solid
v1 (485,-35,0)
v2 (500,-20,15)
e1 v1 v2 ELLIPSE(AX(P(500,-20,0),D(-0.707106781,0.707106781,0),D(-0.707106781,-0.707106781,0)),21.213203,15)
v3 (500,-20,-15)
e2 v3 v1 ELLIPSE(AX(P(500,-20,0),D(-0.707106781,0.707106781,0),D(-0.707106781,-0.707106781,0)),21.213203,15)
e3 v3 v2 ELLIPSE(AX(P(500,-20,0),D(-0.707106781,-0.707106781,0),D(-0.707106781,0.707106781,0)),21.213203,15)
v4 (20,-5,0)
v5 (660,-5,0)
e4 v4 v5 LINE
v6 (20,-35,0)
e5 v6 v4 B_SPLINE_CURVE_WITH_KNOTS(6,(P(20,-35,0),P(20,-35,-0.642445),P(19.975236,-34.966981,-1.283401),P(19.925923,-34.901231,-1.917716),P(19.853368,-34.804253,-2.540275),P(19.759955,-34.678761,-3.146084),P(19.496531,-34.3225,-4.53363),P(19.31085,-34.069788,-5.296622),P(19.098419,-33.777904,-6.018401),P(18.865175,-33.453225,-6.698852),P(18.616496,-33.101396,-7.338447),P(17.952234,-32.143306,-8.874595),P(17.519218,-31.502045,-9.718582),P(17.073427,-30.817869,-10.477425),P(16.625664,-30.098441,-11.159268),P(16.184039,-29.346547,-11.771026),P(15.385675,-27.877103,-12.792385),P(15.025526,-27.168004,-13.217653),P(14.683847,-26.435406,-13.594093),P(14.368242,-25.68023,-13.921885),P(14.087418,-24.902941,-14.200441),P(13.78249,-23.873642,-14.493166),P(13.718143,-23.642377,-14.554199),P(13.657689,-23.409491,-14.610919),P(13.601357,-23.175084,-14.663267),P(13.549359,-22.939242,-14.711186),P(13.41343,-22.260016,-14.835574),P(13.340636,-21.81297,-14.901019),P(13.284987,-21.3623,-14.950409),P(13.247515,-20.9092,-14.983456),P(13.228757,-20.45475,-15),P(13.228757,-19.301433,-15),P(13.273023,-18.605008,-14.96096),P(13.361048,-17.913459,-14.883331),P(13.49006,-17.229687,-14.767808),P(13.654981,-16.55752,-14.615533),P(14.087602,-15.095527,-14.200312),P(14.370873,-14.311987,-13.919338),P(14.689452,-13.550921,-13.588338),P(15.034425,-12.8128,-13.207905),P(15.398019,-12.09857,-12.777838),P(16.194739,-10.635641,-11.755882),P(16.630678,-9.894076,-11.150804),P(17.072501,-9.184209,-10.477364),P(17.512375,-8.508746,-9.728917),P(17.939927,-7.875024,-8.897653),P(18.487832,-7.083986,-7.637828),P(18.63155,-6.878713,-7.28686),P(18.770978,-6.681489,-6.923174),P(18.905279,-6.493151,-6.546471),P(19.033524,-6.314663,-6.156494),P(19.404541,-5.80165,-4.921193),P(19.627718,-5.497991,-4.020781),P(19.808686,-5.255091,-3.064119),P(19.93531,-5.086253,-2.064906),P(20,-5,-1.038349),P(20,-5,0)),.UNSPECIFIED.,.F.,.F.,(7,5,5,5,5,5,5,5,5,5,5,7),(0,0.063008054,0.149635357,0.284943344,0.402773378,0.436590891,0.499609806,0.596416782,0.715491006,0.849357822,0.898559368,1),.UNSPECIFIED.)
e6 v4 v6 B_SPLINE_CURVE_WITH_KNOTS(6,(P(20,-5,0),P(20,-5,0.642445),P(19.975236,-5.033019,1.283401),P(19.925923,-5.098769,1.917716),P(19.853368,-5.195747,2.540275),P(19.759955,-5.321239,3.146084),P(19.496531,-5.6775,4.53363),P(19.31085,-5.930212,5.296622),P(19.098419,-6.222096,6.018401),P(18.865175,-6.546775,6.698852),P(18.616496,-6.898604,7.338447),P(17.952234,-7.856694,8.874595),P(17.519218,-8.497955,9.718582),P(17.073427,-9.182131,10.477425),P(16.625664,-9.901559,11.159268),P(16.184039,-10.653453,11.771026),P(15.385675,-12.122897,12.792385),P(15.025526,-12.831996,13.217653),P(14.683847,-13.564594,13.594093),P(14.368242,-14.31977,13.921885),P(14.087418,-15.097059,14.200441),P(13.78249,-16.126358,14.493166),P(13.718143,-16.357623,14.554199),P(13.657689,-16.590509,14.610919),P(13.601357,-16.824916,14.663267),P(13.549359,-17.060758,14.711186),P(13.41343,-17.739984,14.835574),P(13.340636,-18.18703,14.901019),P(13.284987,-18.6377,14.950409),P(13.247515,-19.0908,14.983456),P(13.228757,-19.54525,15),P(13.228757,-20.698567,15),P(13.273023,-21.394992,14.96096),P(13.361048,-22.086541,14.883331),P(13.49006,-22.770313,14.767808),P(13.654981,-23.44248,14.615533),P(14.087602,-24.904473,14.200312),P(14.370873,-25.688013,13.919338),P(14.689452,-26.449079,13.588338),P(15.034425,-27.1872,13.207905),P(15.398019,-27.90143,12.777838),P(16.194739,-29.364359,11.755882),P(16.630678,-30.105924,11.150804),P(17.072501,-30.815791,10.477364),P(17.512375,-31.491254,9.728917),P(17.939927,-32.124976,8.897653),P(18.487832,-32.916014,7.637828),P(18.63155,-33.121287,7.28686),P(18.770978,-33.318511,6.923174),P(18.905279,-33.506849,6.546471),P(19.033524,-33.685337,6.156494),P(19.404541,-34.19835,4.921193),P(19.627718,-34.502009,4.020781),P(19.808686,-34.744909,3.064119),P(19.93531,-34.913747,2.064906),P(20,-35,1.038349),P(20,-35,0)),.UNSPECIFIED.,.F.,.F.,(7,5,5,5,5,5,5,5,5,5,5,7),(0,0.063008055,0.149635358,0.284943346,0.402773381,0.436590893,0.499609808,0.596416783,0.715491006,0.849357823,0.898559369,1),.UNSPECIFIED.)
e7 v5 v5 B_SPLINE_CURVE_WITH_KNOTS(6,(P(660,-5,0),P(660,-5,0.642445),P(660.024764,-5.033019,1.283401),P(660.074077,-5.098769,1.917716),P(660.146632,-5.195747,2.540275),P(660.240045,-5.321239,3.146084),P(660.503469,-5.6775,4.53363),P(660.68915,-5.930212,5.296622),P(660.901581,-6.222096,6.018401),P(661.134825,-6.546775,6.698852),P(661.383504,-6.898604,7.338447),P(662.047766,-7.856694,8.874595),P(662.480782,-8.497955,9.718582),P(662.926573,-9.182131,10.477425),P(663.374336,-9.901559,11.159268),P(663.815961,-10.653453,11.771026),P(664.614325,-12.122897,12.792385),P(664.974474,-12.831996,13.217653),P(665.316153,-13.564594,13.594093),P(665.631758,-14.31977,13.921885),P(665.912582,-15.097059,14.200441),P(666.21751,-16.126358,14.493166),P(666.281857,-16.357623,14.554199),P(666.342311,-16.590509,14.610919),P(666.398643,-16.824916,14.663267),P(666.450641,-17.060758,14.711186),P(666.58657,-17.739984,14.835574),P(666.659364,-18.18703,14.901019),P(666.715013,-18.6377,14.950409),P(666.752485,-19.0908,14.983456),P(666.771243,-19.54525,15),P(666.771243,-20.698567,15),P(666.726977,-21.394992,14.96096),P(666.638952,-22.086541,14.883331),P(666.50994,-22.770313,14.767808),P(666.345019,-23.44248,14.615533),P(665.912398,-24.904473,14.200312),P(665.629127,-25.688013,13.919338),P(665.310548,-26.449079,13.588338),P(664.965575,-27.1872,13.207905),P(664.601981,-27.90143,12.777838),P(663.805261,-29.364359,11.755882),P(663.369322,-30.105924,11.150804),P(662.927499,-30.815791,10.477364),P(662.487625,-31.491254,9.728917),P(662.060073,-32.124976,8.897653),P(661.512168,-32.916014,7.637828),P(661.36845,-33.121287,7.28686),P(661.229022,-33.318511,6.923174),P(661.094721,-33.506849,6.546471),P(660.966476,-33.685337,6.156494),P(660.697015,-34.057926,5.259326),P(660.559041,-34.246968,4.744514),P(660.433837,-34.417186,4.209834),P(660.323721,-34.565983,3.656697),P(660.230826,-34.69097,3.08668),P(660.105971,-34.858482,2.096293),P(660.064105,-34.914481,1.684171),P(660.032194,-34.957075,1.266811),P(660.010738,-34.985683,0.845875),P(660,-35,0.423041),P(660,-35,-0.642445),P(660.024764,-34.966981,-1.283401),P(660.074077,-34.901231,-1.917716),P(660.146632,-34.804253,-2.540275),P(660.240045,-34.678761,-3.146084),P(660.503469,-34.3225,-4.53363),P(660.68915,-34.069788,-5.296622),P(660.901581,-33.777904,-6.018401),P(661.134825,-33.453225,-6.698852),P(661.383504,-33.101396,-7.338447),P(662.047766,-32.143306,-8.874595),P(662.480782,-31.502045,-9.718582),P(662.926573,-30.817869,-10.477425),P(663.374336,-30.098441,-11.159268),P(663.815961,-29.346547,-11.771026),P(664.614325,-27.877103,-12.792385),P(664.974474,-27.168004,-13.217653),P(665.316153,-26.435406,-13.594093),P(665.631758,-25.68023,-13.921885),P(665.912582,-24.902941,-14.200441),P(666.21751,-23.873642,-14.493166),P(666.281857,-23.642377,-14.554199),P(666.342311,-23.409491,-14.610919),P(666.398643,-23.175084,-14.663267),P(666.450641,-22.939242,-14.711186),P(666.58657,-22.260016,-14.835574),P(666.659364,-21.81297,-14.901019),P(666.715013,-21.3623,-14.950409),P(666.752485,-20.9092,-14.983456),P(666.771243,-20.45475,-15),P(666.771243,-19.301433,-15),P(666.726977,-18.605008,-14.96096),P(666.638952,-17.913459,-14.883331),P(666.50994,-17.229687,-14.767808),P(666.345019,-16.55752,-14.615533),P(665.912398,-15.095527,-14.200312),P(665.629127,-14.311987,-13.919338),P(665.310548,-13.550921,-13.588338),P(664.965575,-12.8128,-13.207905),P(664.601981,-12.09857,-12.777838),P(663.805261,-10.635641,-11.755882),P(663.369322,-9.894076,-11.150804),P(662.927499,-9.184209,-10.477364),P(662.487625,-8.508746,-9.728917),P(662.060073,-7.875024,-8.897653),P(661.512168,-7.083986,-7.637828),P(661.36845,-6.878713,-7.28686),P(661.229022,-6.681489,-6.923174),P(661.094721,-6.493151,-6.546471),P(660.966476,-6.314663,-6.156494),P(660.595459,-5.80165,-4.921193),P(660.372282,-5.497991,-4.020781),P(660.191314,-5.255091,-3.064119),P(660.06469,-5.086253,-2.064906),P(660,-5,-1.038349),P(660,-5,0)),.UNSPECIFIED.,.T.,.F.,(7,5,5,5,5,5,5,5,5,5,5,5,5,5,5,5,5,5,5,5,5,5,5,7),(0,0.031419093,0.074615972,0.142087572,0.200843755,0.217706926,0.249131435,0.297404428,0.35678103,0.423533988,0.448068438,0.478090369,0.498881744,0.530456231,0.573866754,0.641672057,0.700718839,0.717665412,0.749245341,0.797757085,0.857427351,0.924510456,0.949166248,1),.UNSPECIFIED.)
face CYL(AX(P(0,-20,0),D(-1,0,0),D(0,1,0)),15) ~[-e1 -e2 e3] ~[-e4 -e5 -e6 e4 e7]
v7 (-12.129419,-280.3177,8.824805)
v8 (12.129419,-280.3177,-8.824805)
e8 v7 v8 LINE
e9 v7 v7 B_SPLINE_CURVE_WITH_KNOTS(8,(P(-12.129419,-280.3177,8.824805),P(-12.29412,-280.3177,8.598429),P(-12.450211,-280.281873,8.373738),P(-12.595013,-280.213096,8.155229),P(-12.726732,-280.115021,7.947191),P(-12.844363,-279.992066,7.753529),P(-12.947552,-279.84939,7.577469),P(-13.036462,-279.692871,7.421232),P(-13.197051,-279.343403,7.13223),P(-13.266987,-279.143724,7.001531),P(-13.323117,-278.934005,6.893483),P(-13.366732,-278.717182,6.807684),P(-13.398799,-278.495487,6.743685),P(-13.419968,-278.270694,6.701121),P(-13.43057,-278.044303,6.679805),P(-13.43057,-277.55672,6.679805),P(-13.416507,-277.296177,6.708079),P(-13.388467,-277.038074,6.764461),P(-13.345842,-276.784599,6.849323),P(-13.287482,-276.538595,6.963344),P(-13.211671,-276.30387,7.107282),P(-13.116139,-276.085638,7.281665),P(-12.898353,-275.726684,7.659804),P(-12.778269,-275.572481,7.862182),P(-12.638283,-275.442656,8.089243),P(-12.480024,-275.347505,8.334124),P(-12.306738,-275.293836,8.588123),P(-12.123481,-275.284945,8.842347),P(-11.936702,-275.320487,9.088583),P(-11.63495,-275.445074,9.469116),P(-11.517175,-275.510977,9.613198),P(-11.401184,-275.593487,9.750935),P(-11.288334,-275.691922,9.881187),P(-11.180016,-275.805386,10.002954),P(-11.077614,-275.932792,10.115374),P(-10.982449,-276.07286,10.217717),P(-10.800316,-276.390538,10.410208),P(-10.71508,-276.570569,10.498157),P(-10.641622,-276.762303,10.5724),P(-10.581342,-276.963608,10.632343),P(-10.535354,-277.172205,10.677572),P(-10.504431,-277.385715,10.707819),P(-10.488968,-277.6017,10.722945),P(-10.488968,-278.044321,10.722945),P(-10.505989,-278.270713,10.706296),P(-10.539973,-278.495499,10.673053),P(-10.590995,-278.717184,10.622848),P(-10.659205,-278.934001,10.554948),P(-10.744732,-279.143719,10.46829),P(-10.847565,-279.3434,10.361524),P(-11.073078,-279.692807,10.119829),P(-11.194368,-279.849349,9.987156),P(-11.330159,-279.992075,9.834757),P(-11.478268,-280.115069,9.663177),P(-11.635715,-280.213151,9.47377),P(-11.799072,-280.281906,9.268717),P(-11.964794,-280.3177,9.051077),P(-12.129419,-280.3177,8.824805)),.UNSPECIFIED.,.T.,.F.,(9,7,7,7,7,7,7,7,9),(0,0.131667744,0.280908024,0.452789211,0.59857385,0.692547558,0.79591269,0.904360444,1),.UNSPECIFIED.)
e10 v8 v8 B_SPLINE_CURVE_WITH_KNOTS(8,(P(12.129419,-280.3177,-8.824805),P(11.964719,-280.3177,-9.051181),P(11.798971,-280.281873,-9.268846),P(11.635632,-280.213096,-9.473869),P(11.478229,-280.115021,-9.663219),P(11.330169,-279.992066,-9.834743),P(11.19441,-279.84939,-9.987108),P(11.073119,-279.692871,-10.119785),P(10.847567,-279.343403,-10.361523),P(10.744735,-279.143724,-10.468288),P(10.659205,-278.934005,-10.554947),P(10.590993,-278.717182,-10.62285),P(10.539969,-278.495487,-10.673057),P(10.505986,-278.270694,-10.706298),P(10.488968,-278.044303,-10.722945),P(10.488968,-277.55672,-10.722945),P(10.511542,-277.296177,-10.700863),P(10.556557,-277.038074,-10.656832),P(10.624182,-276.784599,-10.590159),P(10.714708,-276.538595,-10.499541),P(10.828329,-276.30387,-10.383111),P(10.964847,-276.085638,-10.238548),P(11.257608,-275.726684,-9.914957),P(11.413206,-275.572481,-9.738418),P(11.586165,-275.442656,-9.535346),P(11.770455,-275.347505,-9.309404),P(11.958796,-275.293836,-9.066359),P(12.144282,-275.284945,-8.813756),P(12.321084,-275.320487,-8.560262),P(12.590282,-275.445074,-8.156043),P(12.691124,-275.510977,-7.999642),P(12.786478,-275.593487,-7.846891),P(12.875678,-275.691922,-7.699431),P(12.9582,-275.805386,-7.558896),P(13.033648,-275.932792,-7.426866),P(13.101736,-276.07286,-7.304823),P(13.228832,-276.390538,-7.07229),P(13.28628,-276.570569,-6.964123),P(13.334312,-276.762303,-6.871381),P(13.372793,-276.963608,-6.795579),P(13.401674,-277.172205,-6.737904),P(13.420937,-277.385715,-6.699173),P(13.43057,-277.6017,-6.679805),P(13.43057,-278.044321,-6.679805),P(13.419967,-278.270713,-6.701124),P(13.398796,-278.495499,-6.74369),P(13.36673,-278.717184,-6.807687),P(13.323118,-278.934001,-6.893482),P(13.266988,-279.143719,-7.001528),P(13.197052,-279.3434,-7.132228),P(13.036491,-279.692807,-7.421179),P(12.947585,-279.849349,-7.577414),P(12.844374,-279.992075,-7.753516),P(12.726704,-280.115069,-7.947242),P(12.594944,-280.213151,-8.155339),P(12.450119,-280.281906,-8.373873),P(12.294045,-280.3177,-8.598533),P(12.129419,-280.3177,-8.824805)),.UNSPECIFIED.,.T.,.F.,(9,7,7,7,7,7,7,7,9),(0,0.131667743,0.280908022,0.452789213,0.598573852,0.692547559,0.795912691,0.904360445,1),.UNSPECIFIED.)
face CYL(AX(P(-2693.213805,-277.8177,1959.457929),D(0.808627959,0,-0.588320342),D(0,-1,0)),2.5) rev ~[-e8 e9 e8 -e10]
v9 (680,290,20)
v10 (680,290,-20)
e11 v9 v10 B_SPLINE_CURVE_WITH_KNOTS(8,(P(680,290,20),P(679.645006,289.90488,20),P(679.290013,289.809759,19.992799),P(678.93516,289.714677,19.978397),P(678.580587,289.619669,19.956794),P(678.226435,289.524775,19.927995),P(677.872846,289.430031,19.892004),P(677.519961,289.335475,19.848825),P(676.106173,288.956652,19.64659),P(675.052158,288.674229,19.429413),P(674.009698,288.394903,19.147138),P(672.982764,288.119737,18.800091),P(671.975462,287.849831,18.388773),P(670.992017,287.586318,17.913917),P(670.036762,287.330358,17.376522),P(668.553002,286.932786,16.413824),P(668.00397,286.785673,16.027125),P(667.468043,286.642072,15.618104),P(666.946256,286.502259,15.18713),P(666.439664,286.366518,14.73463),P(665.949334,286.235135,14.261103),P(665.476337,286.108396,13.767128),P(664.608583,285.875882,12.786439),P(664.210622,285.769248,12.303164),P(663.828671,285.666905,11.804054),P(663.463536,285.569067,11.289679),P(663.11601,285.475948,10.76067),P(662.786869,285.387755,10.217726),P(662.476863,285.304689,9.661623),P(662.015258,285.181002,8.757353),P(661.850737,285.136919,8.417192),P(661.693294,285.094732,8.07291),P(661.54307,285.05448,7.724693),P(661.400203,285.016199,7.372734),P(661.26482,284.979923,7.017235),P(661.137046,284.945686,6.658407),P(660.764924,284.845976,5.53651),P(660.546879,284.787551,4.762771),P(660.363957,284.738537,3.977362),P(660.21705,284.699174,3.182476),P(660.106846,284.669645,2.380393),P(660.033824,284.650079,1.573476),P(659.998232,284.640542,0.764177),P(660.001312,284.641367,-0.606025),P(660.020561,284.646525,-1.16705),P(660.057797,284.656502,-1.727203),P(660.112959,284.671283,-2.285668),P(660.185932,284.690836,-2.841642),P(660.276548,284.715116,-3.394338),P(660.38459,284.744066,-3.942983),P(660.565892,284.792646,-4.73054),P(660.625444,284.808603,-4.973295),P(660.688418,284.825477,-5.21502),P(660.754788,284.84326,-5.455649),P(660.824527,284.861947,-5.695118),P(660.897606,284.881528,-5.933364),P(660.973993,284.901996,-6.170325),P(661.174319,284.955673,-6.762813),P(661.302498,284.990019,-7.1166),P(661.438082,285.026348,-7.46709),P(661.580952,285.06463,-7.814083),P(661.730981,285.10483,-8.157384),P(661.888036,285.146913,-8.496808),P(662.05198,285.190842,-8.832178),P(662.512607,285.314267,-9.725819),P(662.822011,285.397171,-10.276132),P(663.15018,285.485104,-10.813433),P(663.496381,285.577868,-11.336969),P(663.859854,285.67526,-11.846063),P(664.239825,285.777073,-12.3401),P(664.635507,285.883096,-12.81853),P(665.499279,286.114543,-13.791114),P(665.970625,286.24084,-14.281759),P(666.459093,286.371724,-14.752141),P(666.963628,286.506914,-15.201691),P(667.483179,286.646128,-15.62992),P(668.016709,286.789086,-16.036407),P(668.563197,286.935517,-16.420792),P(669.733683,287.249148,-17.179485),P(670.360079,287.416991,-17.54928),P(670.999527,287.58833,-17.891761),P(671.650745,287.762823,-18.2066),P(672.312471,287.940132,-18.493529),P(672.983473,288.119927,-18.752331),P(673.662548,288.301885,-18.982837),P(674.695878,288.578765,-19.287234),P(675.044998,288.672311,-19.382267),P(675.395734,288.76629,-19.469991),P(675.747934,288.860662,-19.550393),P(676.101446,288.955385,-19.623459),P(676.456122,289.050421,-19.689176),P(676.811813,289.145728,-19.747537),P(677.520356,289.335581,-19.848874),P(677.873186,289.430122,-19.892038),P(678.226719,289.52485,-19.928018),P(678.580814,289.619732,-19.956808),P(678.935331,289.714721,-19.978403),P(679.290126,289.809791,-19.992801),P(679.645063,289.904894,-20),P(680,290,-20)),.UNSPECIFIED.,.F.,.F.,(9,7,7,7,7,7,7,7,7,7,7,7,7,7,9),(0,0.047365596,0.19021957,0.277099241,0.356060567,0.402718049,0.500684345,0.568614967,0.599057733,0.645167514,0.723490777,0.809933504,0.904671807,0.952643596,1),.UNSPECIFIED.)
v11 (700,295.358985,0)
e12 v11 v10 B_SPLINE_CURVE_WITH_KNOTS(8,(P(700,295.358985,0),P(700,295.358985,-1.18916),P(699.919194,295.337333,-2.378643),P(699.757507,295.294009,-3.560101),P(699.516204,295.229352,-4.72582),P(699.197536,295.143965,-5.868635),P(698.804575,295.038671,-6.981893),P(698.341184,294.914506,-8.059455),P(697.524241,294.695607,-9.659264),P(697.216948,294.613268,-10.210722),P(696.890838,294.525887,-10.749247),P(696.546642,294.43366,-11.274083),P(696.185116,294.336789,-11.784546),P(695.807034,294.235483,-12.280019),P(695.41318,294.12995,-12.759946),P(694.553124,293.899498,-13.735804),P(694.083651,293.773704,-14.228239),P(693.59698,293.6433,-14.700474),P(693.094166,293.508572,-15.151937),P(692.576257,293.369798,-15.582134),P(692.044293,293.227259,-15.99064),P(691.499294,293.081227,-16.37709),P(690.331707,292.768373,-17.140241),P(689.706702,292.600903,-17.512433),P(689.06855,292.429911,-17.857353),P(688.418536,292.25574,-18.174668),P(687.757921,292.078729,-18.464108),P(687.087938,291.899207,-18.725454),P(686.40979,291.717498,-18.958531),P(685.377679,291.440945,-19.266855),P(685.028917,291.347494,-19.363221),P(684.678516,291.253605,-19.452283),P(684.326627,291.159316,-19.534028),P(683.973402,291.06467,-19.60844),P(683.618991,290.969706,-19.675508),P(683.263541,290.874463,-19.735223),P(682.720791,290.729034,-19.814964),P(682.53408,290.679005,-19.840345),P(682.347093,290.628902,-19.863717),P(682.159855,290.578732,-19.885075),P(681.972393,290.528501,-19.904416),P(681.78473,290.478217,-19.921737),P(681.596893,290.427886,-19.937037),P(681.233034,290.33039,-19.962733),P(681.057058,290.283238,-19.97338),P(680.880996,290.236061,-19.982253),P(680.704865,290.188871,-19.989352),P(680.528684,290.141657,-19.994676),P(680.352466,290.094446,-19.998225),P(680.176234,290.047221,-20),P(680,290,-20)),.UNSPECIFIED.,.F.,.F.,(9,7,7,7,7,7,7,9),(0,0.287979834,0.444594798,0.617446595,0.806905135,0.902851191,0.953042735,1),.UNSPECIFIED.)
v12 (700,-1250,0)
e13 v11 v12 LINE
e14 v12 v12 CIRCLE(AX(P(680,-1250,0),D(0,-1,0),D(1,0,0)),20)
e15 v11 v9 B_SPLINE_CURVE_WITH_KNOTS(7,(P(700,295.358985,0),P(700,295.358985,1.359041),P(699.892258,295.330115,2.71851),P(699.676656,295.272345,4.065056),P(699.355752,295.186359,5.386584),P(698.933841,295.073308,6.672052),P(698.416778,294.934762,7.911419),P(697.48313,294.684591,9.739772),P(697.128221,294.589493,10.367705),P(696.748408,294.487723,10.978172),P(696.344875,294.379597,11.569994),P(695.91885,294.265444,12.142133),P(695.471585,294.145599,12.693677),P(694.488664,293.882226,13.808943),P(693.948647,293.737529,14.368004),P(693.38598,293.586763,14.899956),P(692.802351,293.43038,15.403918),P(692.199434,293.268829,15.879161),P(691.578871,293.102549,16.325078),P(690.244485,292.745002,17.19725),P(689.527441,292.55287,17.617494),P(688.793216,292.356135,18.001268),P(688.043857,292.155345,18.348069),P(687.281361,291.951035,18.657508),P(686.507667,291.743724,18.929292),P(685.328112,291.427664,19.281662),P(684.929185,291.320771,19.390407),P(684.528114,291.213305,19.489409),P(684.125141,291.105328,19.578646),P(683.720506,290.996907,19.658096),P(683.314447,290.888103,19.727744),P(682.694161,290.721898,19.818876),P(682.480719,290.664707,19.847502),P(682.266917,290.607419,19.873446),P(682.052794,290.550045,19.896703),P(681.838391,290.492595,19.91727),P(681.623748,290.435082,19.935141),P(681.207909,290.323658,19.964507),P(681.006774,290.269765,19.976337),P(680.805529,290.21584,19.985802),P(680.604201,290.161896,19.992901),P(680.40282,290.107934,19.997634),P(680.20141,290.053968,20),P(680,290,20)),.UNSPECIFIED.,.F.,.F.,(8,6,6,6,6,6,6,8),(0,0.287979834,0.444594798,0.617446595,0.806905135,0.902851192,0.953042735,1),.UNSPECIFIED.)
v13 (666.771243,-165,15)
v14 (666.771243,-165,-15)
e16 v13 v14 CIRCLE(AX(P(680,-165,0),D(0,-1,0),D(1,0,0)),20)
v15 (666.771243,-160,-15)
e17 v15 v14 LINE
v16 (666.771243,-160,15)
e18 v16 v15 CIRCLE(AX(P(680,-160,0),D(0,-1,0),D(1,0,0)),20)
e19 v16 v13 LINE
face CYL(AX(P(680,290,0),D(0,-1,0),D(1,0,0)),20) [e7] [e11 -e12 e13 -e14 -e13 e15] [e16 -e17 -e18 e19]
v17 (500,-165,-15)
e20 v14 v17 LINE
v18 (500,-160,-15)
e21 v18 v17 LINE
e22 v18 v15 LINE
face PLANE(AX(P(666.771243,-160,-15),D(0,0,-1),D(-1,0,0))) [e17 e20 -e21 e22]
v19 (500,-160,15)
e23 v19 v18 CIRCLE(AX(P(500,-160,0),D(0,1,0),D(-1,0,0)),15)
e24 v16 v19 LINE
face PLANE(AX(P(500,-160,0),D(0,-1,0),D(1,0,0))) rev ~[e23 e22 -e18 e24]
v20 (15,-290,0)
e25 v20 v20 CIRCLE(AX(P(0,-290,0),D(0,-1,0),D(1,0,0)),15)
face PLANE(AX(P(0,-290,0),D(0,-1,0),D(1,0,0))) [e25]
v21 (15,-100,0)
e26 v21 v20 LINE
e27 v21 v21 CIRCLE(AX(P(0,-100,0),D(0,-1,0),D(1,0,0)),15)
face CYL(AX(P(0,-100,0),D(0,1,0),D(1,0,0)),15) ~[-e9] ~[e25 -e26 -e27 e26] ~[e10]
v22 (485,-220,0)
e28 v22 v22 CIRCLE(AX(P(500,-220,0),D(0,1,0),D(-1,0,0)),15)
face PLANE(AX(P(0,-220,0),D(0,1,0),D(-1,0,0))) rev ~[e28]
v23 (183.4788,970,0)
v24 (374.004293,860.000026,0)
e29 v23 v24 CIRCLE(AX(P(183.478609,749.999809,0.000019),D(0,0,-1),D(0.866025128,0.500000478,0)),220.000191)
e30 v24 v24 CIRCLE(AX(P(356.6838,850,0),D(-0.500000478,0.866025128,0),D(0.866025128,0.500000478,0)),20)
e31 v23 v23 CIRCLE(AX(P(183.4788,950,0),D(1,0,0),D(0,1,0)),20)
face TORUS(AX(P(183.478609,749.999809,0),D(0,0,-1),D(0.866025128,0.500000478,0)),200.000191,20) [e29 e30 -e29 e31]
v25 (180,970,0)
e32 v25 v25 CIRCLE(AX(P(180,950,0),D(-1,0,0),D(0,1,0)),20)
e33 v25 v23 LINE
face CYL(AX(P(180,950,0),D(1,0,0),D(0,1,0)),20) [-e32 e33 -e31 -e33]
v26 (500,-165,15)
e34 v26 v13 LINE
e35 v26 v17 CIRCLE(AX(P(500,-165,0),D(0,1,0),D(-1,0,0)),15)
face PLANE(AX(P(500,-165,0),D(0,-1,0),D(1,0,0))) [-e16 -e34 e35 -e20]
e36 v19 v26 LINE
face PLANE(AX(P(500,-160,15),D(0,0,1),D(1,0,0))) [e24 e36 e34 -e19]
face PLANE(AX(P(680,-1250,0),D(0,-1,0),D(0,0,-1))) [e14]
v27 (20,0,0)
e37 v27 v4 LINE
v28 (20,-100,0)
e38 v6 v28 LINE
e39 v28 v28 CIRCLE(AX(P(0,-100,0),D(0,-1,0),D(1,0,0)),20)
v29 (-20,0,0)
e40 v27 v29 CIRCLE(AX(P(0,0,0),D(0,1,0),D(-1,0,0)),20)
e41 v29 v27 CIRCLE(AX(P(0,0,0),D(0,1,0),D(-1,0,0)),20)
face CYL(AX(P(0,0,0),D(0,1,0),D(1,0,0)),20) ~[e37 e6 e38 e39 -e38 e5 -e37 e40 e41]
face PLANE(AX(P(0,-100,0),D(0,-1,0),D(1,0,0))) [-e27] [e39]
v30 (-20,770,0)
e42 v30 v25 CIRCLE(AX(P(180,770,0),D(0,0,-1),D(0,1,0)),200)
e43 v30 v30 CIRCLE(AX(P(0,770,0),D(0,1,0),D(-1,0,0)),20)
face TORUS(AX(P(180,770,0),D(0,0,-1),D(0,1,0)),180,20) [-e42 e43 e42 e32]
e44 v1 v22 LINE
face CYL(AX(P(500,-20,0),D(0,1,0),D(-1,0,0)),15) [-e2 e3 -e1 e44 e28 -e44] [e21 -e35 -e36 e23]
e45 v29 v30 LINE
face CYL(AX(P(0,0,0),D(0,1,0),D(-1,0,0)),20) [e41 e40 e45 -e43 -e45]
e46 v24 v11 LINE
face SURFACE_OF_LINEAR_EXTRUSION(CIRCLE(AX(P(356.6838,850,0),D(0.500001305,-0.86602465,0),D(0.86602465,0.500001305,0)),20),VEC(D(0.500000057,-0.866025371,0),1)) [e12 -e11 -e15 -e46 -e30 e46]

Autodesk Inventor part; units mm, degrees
ref_plane "YZ Plane" through (0, 0, 0) normal (1, 0, 0) x (0, 1, 0)
ref_plane "XY Plane" through (0, 0, 0) normal (0, 0, 1) x (1, 0, 0)
sketch "Skizze1" plane through (0, 0, 0) normal (0, 1, 0) x (-1, 0, 0)
  circle A0 centre (0, 0) radius 20
  dimension "d0" = 40
sketch "Skizze2" plane through (0, 0, 0) normal (0, 0, 1) x (1, 0, 0)
  line L0 (0, 0) -> (0, 770)
  line L1 (180, 950) -> (183.4788, 950)
  line L2 (356.6838, 850) -> (680, 290)
  line L3 (680, 290) -> (680, -1250)
  arc A0 (180, 950) -> (0, 770) centre (180, 770) ccw
  arc A1 (356.6838, 850) -> (183.4788, 950) centre (183.4788, 750) ccw
  point P0 (0, 950)
  dimension "d1" = 950
  dimension "d4" = 290
  dimension "d8" = 2200
  dimension "d9" = 30
  dimension "d10" = 680
  dimension "d11" = 180
  dimension "d12" = 200
sweep "Sweeping1" add profiles "Skizze1" path "Skizze2"
sketch "Skizze3" plane through (0, 0, 0) normal (1, 0, 0) x (0, 1, 0)
  circle A0 centre (-20, 0) radius 15
  line L0 (0, 20) -> (0, -20) projected
  point P0 (0, 0)
  point P1 (0, 0)
  dimension "d16" = 30
  dimension "d27" = 20
extrude "Extrusion1" add sketch "Skizze3" along normal blind 680
sketch "Skizze4" plane through (0, 0, 0) normal (0, -1, 0) x (1, 0, 0)
  circle A0 centre (0, 0) radius 20 projected
extrude "Extrusion2" add sketch "Skizze4" along normal blind 100
ref_plane "Arbeitsebene1" through (0, -20, 0) normal (0, 1, 0) x (-1, 0, 0)
sketch "Skizze5" plane through (0, -20, 0) normal (0, 1, 0) x (-1, 0, 0)
  circle A0 centre (0, 0) radius 20 projected
  circle A1 centre (-500, 0) radius 15
  dimension "d23" = 30
  dimension "d24" = 500
extrude "Extrusion3" add sketch "Skizze5" against normal blind 200 contours A1
ref_plane "Arbeitsebene2" through (500, -160, 0) normal (0, -1, 0) x (1, 0, 0)
sketch "Skizze6" plane through (500, -160, 0) normal (0, -1, 0) x (1, 0, 0)
  circle A0 centre (0, 0) radius 15 projected
  circle A1 centre (180, 0) radius 20 projected
  circle A2 centre (180, 0) radius 20 projected
  circle A3 centre (0, 0) radius 15 projected
  line L0 (0, 15) -> (180, 15)
  line L1 (180, 15) -> (180, -15)
  line L2 (180, -15) -> (0, -15)
  line L3 (0, -15) -> (0, 15)
  point P0 (-500, 0)
  dimension "d29" = 0
  dimension "d30" = 0
  dimension "d31" = 30
  dimension "d32" = 15
extrude "Extrusion4" add sketch "Skizze6" along normal blind 5 contours A0 L3 | A0 L0 A1 L2 | L0 L1 L2 A1 picked at (3.1174, 3.9092) picked at (173.3822, 0.8057)
sketch "Skizze7" plane through (0, -100, 0) normal (0, -1, 0) x (1, 0, 0)
  circle A0 centre (0, 0) radius 20 projected
  circle A1 centre (0, 0) radius 15
  dimension "d35" = 30
extrude "Extrusion5" add sketch "Skizze7" along normal blind 190 contours A1
ref_plane "Arbeitsebene3" through (0, -100, 0) normal (-0.8086, 0, 0.5883) x (0, -1, 0)
sketch "Skizze8" plane through (0, -100, 0) normal (-0.8086, 0, 0.5883) x (0, -1, 0)
  line L0 (190, -15) -> (190, 15) projected
  line L1 (0, 15) -> (0, -15) projected
  point P0 (-100, 0)
  point P1 (177.8177, 0)
hole "Bohrung1" at (0, -277.8177, 0) direction (0.8086, 0, -0.5883) diameter 5 end through all both
properties part number "Geländer lang"
